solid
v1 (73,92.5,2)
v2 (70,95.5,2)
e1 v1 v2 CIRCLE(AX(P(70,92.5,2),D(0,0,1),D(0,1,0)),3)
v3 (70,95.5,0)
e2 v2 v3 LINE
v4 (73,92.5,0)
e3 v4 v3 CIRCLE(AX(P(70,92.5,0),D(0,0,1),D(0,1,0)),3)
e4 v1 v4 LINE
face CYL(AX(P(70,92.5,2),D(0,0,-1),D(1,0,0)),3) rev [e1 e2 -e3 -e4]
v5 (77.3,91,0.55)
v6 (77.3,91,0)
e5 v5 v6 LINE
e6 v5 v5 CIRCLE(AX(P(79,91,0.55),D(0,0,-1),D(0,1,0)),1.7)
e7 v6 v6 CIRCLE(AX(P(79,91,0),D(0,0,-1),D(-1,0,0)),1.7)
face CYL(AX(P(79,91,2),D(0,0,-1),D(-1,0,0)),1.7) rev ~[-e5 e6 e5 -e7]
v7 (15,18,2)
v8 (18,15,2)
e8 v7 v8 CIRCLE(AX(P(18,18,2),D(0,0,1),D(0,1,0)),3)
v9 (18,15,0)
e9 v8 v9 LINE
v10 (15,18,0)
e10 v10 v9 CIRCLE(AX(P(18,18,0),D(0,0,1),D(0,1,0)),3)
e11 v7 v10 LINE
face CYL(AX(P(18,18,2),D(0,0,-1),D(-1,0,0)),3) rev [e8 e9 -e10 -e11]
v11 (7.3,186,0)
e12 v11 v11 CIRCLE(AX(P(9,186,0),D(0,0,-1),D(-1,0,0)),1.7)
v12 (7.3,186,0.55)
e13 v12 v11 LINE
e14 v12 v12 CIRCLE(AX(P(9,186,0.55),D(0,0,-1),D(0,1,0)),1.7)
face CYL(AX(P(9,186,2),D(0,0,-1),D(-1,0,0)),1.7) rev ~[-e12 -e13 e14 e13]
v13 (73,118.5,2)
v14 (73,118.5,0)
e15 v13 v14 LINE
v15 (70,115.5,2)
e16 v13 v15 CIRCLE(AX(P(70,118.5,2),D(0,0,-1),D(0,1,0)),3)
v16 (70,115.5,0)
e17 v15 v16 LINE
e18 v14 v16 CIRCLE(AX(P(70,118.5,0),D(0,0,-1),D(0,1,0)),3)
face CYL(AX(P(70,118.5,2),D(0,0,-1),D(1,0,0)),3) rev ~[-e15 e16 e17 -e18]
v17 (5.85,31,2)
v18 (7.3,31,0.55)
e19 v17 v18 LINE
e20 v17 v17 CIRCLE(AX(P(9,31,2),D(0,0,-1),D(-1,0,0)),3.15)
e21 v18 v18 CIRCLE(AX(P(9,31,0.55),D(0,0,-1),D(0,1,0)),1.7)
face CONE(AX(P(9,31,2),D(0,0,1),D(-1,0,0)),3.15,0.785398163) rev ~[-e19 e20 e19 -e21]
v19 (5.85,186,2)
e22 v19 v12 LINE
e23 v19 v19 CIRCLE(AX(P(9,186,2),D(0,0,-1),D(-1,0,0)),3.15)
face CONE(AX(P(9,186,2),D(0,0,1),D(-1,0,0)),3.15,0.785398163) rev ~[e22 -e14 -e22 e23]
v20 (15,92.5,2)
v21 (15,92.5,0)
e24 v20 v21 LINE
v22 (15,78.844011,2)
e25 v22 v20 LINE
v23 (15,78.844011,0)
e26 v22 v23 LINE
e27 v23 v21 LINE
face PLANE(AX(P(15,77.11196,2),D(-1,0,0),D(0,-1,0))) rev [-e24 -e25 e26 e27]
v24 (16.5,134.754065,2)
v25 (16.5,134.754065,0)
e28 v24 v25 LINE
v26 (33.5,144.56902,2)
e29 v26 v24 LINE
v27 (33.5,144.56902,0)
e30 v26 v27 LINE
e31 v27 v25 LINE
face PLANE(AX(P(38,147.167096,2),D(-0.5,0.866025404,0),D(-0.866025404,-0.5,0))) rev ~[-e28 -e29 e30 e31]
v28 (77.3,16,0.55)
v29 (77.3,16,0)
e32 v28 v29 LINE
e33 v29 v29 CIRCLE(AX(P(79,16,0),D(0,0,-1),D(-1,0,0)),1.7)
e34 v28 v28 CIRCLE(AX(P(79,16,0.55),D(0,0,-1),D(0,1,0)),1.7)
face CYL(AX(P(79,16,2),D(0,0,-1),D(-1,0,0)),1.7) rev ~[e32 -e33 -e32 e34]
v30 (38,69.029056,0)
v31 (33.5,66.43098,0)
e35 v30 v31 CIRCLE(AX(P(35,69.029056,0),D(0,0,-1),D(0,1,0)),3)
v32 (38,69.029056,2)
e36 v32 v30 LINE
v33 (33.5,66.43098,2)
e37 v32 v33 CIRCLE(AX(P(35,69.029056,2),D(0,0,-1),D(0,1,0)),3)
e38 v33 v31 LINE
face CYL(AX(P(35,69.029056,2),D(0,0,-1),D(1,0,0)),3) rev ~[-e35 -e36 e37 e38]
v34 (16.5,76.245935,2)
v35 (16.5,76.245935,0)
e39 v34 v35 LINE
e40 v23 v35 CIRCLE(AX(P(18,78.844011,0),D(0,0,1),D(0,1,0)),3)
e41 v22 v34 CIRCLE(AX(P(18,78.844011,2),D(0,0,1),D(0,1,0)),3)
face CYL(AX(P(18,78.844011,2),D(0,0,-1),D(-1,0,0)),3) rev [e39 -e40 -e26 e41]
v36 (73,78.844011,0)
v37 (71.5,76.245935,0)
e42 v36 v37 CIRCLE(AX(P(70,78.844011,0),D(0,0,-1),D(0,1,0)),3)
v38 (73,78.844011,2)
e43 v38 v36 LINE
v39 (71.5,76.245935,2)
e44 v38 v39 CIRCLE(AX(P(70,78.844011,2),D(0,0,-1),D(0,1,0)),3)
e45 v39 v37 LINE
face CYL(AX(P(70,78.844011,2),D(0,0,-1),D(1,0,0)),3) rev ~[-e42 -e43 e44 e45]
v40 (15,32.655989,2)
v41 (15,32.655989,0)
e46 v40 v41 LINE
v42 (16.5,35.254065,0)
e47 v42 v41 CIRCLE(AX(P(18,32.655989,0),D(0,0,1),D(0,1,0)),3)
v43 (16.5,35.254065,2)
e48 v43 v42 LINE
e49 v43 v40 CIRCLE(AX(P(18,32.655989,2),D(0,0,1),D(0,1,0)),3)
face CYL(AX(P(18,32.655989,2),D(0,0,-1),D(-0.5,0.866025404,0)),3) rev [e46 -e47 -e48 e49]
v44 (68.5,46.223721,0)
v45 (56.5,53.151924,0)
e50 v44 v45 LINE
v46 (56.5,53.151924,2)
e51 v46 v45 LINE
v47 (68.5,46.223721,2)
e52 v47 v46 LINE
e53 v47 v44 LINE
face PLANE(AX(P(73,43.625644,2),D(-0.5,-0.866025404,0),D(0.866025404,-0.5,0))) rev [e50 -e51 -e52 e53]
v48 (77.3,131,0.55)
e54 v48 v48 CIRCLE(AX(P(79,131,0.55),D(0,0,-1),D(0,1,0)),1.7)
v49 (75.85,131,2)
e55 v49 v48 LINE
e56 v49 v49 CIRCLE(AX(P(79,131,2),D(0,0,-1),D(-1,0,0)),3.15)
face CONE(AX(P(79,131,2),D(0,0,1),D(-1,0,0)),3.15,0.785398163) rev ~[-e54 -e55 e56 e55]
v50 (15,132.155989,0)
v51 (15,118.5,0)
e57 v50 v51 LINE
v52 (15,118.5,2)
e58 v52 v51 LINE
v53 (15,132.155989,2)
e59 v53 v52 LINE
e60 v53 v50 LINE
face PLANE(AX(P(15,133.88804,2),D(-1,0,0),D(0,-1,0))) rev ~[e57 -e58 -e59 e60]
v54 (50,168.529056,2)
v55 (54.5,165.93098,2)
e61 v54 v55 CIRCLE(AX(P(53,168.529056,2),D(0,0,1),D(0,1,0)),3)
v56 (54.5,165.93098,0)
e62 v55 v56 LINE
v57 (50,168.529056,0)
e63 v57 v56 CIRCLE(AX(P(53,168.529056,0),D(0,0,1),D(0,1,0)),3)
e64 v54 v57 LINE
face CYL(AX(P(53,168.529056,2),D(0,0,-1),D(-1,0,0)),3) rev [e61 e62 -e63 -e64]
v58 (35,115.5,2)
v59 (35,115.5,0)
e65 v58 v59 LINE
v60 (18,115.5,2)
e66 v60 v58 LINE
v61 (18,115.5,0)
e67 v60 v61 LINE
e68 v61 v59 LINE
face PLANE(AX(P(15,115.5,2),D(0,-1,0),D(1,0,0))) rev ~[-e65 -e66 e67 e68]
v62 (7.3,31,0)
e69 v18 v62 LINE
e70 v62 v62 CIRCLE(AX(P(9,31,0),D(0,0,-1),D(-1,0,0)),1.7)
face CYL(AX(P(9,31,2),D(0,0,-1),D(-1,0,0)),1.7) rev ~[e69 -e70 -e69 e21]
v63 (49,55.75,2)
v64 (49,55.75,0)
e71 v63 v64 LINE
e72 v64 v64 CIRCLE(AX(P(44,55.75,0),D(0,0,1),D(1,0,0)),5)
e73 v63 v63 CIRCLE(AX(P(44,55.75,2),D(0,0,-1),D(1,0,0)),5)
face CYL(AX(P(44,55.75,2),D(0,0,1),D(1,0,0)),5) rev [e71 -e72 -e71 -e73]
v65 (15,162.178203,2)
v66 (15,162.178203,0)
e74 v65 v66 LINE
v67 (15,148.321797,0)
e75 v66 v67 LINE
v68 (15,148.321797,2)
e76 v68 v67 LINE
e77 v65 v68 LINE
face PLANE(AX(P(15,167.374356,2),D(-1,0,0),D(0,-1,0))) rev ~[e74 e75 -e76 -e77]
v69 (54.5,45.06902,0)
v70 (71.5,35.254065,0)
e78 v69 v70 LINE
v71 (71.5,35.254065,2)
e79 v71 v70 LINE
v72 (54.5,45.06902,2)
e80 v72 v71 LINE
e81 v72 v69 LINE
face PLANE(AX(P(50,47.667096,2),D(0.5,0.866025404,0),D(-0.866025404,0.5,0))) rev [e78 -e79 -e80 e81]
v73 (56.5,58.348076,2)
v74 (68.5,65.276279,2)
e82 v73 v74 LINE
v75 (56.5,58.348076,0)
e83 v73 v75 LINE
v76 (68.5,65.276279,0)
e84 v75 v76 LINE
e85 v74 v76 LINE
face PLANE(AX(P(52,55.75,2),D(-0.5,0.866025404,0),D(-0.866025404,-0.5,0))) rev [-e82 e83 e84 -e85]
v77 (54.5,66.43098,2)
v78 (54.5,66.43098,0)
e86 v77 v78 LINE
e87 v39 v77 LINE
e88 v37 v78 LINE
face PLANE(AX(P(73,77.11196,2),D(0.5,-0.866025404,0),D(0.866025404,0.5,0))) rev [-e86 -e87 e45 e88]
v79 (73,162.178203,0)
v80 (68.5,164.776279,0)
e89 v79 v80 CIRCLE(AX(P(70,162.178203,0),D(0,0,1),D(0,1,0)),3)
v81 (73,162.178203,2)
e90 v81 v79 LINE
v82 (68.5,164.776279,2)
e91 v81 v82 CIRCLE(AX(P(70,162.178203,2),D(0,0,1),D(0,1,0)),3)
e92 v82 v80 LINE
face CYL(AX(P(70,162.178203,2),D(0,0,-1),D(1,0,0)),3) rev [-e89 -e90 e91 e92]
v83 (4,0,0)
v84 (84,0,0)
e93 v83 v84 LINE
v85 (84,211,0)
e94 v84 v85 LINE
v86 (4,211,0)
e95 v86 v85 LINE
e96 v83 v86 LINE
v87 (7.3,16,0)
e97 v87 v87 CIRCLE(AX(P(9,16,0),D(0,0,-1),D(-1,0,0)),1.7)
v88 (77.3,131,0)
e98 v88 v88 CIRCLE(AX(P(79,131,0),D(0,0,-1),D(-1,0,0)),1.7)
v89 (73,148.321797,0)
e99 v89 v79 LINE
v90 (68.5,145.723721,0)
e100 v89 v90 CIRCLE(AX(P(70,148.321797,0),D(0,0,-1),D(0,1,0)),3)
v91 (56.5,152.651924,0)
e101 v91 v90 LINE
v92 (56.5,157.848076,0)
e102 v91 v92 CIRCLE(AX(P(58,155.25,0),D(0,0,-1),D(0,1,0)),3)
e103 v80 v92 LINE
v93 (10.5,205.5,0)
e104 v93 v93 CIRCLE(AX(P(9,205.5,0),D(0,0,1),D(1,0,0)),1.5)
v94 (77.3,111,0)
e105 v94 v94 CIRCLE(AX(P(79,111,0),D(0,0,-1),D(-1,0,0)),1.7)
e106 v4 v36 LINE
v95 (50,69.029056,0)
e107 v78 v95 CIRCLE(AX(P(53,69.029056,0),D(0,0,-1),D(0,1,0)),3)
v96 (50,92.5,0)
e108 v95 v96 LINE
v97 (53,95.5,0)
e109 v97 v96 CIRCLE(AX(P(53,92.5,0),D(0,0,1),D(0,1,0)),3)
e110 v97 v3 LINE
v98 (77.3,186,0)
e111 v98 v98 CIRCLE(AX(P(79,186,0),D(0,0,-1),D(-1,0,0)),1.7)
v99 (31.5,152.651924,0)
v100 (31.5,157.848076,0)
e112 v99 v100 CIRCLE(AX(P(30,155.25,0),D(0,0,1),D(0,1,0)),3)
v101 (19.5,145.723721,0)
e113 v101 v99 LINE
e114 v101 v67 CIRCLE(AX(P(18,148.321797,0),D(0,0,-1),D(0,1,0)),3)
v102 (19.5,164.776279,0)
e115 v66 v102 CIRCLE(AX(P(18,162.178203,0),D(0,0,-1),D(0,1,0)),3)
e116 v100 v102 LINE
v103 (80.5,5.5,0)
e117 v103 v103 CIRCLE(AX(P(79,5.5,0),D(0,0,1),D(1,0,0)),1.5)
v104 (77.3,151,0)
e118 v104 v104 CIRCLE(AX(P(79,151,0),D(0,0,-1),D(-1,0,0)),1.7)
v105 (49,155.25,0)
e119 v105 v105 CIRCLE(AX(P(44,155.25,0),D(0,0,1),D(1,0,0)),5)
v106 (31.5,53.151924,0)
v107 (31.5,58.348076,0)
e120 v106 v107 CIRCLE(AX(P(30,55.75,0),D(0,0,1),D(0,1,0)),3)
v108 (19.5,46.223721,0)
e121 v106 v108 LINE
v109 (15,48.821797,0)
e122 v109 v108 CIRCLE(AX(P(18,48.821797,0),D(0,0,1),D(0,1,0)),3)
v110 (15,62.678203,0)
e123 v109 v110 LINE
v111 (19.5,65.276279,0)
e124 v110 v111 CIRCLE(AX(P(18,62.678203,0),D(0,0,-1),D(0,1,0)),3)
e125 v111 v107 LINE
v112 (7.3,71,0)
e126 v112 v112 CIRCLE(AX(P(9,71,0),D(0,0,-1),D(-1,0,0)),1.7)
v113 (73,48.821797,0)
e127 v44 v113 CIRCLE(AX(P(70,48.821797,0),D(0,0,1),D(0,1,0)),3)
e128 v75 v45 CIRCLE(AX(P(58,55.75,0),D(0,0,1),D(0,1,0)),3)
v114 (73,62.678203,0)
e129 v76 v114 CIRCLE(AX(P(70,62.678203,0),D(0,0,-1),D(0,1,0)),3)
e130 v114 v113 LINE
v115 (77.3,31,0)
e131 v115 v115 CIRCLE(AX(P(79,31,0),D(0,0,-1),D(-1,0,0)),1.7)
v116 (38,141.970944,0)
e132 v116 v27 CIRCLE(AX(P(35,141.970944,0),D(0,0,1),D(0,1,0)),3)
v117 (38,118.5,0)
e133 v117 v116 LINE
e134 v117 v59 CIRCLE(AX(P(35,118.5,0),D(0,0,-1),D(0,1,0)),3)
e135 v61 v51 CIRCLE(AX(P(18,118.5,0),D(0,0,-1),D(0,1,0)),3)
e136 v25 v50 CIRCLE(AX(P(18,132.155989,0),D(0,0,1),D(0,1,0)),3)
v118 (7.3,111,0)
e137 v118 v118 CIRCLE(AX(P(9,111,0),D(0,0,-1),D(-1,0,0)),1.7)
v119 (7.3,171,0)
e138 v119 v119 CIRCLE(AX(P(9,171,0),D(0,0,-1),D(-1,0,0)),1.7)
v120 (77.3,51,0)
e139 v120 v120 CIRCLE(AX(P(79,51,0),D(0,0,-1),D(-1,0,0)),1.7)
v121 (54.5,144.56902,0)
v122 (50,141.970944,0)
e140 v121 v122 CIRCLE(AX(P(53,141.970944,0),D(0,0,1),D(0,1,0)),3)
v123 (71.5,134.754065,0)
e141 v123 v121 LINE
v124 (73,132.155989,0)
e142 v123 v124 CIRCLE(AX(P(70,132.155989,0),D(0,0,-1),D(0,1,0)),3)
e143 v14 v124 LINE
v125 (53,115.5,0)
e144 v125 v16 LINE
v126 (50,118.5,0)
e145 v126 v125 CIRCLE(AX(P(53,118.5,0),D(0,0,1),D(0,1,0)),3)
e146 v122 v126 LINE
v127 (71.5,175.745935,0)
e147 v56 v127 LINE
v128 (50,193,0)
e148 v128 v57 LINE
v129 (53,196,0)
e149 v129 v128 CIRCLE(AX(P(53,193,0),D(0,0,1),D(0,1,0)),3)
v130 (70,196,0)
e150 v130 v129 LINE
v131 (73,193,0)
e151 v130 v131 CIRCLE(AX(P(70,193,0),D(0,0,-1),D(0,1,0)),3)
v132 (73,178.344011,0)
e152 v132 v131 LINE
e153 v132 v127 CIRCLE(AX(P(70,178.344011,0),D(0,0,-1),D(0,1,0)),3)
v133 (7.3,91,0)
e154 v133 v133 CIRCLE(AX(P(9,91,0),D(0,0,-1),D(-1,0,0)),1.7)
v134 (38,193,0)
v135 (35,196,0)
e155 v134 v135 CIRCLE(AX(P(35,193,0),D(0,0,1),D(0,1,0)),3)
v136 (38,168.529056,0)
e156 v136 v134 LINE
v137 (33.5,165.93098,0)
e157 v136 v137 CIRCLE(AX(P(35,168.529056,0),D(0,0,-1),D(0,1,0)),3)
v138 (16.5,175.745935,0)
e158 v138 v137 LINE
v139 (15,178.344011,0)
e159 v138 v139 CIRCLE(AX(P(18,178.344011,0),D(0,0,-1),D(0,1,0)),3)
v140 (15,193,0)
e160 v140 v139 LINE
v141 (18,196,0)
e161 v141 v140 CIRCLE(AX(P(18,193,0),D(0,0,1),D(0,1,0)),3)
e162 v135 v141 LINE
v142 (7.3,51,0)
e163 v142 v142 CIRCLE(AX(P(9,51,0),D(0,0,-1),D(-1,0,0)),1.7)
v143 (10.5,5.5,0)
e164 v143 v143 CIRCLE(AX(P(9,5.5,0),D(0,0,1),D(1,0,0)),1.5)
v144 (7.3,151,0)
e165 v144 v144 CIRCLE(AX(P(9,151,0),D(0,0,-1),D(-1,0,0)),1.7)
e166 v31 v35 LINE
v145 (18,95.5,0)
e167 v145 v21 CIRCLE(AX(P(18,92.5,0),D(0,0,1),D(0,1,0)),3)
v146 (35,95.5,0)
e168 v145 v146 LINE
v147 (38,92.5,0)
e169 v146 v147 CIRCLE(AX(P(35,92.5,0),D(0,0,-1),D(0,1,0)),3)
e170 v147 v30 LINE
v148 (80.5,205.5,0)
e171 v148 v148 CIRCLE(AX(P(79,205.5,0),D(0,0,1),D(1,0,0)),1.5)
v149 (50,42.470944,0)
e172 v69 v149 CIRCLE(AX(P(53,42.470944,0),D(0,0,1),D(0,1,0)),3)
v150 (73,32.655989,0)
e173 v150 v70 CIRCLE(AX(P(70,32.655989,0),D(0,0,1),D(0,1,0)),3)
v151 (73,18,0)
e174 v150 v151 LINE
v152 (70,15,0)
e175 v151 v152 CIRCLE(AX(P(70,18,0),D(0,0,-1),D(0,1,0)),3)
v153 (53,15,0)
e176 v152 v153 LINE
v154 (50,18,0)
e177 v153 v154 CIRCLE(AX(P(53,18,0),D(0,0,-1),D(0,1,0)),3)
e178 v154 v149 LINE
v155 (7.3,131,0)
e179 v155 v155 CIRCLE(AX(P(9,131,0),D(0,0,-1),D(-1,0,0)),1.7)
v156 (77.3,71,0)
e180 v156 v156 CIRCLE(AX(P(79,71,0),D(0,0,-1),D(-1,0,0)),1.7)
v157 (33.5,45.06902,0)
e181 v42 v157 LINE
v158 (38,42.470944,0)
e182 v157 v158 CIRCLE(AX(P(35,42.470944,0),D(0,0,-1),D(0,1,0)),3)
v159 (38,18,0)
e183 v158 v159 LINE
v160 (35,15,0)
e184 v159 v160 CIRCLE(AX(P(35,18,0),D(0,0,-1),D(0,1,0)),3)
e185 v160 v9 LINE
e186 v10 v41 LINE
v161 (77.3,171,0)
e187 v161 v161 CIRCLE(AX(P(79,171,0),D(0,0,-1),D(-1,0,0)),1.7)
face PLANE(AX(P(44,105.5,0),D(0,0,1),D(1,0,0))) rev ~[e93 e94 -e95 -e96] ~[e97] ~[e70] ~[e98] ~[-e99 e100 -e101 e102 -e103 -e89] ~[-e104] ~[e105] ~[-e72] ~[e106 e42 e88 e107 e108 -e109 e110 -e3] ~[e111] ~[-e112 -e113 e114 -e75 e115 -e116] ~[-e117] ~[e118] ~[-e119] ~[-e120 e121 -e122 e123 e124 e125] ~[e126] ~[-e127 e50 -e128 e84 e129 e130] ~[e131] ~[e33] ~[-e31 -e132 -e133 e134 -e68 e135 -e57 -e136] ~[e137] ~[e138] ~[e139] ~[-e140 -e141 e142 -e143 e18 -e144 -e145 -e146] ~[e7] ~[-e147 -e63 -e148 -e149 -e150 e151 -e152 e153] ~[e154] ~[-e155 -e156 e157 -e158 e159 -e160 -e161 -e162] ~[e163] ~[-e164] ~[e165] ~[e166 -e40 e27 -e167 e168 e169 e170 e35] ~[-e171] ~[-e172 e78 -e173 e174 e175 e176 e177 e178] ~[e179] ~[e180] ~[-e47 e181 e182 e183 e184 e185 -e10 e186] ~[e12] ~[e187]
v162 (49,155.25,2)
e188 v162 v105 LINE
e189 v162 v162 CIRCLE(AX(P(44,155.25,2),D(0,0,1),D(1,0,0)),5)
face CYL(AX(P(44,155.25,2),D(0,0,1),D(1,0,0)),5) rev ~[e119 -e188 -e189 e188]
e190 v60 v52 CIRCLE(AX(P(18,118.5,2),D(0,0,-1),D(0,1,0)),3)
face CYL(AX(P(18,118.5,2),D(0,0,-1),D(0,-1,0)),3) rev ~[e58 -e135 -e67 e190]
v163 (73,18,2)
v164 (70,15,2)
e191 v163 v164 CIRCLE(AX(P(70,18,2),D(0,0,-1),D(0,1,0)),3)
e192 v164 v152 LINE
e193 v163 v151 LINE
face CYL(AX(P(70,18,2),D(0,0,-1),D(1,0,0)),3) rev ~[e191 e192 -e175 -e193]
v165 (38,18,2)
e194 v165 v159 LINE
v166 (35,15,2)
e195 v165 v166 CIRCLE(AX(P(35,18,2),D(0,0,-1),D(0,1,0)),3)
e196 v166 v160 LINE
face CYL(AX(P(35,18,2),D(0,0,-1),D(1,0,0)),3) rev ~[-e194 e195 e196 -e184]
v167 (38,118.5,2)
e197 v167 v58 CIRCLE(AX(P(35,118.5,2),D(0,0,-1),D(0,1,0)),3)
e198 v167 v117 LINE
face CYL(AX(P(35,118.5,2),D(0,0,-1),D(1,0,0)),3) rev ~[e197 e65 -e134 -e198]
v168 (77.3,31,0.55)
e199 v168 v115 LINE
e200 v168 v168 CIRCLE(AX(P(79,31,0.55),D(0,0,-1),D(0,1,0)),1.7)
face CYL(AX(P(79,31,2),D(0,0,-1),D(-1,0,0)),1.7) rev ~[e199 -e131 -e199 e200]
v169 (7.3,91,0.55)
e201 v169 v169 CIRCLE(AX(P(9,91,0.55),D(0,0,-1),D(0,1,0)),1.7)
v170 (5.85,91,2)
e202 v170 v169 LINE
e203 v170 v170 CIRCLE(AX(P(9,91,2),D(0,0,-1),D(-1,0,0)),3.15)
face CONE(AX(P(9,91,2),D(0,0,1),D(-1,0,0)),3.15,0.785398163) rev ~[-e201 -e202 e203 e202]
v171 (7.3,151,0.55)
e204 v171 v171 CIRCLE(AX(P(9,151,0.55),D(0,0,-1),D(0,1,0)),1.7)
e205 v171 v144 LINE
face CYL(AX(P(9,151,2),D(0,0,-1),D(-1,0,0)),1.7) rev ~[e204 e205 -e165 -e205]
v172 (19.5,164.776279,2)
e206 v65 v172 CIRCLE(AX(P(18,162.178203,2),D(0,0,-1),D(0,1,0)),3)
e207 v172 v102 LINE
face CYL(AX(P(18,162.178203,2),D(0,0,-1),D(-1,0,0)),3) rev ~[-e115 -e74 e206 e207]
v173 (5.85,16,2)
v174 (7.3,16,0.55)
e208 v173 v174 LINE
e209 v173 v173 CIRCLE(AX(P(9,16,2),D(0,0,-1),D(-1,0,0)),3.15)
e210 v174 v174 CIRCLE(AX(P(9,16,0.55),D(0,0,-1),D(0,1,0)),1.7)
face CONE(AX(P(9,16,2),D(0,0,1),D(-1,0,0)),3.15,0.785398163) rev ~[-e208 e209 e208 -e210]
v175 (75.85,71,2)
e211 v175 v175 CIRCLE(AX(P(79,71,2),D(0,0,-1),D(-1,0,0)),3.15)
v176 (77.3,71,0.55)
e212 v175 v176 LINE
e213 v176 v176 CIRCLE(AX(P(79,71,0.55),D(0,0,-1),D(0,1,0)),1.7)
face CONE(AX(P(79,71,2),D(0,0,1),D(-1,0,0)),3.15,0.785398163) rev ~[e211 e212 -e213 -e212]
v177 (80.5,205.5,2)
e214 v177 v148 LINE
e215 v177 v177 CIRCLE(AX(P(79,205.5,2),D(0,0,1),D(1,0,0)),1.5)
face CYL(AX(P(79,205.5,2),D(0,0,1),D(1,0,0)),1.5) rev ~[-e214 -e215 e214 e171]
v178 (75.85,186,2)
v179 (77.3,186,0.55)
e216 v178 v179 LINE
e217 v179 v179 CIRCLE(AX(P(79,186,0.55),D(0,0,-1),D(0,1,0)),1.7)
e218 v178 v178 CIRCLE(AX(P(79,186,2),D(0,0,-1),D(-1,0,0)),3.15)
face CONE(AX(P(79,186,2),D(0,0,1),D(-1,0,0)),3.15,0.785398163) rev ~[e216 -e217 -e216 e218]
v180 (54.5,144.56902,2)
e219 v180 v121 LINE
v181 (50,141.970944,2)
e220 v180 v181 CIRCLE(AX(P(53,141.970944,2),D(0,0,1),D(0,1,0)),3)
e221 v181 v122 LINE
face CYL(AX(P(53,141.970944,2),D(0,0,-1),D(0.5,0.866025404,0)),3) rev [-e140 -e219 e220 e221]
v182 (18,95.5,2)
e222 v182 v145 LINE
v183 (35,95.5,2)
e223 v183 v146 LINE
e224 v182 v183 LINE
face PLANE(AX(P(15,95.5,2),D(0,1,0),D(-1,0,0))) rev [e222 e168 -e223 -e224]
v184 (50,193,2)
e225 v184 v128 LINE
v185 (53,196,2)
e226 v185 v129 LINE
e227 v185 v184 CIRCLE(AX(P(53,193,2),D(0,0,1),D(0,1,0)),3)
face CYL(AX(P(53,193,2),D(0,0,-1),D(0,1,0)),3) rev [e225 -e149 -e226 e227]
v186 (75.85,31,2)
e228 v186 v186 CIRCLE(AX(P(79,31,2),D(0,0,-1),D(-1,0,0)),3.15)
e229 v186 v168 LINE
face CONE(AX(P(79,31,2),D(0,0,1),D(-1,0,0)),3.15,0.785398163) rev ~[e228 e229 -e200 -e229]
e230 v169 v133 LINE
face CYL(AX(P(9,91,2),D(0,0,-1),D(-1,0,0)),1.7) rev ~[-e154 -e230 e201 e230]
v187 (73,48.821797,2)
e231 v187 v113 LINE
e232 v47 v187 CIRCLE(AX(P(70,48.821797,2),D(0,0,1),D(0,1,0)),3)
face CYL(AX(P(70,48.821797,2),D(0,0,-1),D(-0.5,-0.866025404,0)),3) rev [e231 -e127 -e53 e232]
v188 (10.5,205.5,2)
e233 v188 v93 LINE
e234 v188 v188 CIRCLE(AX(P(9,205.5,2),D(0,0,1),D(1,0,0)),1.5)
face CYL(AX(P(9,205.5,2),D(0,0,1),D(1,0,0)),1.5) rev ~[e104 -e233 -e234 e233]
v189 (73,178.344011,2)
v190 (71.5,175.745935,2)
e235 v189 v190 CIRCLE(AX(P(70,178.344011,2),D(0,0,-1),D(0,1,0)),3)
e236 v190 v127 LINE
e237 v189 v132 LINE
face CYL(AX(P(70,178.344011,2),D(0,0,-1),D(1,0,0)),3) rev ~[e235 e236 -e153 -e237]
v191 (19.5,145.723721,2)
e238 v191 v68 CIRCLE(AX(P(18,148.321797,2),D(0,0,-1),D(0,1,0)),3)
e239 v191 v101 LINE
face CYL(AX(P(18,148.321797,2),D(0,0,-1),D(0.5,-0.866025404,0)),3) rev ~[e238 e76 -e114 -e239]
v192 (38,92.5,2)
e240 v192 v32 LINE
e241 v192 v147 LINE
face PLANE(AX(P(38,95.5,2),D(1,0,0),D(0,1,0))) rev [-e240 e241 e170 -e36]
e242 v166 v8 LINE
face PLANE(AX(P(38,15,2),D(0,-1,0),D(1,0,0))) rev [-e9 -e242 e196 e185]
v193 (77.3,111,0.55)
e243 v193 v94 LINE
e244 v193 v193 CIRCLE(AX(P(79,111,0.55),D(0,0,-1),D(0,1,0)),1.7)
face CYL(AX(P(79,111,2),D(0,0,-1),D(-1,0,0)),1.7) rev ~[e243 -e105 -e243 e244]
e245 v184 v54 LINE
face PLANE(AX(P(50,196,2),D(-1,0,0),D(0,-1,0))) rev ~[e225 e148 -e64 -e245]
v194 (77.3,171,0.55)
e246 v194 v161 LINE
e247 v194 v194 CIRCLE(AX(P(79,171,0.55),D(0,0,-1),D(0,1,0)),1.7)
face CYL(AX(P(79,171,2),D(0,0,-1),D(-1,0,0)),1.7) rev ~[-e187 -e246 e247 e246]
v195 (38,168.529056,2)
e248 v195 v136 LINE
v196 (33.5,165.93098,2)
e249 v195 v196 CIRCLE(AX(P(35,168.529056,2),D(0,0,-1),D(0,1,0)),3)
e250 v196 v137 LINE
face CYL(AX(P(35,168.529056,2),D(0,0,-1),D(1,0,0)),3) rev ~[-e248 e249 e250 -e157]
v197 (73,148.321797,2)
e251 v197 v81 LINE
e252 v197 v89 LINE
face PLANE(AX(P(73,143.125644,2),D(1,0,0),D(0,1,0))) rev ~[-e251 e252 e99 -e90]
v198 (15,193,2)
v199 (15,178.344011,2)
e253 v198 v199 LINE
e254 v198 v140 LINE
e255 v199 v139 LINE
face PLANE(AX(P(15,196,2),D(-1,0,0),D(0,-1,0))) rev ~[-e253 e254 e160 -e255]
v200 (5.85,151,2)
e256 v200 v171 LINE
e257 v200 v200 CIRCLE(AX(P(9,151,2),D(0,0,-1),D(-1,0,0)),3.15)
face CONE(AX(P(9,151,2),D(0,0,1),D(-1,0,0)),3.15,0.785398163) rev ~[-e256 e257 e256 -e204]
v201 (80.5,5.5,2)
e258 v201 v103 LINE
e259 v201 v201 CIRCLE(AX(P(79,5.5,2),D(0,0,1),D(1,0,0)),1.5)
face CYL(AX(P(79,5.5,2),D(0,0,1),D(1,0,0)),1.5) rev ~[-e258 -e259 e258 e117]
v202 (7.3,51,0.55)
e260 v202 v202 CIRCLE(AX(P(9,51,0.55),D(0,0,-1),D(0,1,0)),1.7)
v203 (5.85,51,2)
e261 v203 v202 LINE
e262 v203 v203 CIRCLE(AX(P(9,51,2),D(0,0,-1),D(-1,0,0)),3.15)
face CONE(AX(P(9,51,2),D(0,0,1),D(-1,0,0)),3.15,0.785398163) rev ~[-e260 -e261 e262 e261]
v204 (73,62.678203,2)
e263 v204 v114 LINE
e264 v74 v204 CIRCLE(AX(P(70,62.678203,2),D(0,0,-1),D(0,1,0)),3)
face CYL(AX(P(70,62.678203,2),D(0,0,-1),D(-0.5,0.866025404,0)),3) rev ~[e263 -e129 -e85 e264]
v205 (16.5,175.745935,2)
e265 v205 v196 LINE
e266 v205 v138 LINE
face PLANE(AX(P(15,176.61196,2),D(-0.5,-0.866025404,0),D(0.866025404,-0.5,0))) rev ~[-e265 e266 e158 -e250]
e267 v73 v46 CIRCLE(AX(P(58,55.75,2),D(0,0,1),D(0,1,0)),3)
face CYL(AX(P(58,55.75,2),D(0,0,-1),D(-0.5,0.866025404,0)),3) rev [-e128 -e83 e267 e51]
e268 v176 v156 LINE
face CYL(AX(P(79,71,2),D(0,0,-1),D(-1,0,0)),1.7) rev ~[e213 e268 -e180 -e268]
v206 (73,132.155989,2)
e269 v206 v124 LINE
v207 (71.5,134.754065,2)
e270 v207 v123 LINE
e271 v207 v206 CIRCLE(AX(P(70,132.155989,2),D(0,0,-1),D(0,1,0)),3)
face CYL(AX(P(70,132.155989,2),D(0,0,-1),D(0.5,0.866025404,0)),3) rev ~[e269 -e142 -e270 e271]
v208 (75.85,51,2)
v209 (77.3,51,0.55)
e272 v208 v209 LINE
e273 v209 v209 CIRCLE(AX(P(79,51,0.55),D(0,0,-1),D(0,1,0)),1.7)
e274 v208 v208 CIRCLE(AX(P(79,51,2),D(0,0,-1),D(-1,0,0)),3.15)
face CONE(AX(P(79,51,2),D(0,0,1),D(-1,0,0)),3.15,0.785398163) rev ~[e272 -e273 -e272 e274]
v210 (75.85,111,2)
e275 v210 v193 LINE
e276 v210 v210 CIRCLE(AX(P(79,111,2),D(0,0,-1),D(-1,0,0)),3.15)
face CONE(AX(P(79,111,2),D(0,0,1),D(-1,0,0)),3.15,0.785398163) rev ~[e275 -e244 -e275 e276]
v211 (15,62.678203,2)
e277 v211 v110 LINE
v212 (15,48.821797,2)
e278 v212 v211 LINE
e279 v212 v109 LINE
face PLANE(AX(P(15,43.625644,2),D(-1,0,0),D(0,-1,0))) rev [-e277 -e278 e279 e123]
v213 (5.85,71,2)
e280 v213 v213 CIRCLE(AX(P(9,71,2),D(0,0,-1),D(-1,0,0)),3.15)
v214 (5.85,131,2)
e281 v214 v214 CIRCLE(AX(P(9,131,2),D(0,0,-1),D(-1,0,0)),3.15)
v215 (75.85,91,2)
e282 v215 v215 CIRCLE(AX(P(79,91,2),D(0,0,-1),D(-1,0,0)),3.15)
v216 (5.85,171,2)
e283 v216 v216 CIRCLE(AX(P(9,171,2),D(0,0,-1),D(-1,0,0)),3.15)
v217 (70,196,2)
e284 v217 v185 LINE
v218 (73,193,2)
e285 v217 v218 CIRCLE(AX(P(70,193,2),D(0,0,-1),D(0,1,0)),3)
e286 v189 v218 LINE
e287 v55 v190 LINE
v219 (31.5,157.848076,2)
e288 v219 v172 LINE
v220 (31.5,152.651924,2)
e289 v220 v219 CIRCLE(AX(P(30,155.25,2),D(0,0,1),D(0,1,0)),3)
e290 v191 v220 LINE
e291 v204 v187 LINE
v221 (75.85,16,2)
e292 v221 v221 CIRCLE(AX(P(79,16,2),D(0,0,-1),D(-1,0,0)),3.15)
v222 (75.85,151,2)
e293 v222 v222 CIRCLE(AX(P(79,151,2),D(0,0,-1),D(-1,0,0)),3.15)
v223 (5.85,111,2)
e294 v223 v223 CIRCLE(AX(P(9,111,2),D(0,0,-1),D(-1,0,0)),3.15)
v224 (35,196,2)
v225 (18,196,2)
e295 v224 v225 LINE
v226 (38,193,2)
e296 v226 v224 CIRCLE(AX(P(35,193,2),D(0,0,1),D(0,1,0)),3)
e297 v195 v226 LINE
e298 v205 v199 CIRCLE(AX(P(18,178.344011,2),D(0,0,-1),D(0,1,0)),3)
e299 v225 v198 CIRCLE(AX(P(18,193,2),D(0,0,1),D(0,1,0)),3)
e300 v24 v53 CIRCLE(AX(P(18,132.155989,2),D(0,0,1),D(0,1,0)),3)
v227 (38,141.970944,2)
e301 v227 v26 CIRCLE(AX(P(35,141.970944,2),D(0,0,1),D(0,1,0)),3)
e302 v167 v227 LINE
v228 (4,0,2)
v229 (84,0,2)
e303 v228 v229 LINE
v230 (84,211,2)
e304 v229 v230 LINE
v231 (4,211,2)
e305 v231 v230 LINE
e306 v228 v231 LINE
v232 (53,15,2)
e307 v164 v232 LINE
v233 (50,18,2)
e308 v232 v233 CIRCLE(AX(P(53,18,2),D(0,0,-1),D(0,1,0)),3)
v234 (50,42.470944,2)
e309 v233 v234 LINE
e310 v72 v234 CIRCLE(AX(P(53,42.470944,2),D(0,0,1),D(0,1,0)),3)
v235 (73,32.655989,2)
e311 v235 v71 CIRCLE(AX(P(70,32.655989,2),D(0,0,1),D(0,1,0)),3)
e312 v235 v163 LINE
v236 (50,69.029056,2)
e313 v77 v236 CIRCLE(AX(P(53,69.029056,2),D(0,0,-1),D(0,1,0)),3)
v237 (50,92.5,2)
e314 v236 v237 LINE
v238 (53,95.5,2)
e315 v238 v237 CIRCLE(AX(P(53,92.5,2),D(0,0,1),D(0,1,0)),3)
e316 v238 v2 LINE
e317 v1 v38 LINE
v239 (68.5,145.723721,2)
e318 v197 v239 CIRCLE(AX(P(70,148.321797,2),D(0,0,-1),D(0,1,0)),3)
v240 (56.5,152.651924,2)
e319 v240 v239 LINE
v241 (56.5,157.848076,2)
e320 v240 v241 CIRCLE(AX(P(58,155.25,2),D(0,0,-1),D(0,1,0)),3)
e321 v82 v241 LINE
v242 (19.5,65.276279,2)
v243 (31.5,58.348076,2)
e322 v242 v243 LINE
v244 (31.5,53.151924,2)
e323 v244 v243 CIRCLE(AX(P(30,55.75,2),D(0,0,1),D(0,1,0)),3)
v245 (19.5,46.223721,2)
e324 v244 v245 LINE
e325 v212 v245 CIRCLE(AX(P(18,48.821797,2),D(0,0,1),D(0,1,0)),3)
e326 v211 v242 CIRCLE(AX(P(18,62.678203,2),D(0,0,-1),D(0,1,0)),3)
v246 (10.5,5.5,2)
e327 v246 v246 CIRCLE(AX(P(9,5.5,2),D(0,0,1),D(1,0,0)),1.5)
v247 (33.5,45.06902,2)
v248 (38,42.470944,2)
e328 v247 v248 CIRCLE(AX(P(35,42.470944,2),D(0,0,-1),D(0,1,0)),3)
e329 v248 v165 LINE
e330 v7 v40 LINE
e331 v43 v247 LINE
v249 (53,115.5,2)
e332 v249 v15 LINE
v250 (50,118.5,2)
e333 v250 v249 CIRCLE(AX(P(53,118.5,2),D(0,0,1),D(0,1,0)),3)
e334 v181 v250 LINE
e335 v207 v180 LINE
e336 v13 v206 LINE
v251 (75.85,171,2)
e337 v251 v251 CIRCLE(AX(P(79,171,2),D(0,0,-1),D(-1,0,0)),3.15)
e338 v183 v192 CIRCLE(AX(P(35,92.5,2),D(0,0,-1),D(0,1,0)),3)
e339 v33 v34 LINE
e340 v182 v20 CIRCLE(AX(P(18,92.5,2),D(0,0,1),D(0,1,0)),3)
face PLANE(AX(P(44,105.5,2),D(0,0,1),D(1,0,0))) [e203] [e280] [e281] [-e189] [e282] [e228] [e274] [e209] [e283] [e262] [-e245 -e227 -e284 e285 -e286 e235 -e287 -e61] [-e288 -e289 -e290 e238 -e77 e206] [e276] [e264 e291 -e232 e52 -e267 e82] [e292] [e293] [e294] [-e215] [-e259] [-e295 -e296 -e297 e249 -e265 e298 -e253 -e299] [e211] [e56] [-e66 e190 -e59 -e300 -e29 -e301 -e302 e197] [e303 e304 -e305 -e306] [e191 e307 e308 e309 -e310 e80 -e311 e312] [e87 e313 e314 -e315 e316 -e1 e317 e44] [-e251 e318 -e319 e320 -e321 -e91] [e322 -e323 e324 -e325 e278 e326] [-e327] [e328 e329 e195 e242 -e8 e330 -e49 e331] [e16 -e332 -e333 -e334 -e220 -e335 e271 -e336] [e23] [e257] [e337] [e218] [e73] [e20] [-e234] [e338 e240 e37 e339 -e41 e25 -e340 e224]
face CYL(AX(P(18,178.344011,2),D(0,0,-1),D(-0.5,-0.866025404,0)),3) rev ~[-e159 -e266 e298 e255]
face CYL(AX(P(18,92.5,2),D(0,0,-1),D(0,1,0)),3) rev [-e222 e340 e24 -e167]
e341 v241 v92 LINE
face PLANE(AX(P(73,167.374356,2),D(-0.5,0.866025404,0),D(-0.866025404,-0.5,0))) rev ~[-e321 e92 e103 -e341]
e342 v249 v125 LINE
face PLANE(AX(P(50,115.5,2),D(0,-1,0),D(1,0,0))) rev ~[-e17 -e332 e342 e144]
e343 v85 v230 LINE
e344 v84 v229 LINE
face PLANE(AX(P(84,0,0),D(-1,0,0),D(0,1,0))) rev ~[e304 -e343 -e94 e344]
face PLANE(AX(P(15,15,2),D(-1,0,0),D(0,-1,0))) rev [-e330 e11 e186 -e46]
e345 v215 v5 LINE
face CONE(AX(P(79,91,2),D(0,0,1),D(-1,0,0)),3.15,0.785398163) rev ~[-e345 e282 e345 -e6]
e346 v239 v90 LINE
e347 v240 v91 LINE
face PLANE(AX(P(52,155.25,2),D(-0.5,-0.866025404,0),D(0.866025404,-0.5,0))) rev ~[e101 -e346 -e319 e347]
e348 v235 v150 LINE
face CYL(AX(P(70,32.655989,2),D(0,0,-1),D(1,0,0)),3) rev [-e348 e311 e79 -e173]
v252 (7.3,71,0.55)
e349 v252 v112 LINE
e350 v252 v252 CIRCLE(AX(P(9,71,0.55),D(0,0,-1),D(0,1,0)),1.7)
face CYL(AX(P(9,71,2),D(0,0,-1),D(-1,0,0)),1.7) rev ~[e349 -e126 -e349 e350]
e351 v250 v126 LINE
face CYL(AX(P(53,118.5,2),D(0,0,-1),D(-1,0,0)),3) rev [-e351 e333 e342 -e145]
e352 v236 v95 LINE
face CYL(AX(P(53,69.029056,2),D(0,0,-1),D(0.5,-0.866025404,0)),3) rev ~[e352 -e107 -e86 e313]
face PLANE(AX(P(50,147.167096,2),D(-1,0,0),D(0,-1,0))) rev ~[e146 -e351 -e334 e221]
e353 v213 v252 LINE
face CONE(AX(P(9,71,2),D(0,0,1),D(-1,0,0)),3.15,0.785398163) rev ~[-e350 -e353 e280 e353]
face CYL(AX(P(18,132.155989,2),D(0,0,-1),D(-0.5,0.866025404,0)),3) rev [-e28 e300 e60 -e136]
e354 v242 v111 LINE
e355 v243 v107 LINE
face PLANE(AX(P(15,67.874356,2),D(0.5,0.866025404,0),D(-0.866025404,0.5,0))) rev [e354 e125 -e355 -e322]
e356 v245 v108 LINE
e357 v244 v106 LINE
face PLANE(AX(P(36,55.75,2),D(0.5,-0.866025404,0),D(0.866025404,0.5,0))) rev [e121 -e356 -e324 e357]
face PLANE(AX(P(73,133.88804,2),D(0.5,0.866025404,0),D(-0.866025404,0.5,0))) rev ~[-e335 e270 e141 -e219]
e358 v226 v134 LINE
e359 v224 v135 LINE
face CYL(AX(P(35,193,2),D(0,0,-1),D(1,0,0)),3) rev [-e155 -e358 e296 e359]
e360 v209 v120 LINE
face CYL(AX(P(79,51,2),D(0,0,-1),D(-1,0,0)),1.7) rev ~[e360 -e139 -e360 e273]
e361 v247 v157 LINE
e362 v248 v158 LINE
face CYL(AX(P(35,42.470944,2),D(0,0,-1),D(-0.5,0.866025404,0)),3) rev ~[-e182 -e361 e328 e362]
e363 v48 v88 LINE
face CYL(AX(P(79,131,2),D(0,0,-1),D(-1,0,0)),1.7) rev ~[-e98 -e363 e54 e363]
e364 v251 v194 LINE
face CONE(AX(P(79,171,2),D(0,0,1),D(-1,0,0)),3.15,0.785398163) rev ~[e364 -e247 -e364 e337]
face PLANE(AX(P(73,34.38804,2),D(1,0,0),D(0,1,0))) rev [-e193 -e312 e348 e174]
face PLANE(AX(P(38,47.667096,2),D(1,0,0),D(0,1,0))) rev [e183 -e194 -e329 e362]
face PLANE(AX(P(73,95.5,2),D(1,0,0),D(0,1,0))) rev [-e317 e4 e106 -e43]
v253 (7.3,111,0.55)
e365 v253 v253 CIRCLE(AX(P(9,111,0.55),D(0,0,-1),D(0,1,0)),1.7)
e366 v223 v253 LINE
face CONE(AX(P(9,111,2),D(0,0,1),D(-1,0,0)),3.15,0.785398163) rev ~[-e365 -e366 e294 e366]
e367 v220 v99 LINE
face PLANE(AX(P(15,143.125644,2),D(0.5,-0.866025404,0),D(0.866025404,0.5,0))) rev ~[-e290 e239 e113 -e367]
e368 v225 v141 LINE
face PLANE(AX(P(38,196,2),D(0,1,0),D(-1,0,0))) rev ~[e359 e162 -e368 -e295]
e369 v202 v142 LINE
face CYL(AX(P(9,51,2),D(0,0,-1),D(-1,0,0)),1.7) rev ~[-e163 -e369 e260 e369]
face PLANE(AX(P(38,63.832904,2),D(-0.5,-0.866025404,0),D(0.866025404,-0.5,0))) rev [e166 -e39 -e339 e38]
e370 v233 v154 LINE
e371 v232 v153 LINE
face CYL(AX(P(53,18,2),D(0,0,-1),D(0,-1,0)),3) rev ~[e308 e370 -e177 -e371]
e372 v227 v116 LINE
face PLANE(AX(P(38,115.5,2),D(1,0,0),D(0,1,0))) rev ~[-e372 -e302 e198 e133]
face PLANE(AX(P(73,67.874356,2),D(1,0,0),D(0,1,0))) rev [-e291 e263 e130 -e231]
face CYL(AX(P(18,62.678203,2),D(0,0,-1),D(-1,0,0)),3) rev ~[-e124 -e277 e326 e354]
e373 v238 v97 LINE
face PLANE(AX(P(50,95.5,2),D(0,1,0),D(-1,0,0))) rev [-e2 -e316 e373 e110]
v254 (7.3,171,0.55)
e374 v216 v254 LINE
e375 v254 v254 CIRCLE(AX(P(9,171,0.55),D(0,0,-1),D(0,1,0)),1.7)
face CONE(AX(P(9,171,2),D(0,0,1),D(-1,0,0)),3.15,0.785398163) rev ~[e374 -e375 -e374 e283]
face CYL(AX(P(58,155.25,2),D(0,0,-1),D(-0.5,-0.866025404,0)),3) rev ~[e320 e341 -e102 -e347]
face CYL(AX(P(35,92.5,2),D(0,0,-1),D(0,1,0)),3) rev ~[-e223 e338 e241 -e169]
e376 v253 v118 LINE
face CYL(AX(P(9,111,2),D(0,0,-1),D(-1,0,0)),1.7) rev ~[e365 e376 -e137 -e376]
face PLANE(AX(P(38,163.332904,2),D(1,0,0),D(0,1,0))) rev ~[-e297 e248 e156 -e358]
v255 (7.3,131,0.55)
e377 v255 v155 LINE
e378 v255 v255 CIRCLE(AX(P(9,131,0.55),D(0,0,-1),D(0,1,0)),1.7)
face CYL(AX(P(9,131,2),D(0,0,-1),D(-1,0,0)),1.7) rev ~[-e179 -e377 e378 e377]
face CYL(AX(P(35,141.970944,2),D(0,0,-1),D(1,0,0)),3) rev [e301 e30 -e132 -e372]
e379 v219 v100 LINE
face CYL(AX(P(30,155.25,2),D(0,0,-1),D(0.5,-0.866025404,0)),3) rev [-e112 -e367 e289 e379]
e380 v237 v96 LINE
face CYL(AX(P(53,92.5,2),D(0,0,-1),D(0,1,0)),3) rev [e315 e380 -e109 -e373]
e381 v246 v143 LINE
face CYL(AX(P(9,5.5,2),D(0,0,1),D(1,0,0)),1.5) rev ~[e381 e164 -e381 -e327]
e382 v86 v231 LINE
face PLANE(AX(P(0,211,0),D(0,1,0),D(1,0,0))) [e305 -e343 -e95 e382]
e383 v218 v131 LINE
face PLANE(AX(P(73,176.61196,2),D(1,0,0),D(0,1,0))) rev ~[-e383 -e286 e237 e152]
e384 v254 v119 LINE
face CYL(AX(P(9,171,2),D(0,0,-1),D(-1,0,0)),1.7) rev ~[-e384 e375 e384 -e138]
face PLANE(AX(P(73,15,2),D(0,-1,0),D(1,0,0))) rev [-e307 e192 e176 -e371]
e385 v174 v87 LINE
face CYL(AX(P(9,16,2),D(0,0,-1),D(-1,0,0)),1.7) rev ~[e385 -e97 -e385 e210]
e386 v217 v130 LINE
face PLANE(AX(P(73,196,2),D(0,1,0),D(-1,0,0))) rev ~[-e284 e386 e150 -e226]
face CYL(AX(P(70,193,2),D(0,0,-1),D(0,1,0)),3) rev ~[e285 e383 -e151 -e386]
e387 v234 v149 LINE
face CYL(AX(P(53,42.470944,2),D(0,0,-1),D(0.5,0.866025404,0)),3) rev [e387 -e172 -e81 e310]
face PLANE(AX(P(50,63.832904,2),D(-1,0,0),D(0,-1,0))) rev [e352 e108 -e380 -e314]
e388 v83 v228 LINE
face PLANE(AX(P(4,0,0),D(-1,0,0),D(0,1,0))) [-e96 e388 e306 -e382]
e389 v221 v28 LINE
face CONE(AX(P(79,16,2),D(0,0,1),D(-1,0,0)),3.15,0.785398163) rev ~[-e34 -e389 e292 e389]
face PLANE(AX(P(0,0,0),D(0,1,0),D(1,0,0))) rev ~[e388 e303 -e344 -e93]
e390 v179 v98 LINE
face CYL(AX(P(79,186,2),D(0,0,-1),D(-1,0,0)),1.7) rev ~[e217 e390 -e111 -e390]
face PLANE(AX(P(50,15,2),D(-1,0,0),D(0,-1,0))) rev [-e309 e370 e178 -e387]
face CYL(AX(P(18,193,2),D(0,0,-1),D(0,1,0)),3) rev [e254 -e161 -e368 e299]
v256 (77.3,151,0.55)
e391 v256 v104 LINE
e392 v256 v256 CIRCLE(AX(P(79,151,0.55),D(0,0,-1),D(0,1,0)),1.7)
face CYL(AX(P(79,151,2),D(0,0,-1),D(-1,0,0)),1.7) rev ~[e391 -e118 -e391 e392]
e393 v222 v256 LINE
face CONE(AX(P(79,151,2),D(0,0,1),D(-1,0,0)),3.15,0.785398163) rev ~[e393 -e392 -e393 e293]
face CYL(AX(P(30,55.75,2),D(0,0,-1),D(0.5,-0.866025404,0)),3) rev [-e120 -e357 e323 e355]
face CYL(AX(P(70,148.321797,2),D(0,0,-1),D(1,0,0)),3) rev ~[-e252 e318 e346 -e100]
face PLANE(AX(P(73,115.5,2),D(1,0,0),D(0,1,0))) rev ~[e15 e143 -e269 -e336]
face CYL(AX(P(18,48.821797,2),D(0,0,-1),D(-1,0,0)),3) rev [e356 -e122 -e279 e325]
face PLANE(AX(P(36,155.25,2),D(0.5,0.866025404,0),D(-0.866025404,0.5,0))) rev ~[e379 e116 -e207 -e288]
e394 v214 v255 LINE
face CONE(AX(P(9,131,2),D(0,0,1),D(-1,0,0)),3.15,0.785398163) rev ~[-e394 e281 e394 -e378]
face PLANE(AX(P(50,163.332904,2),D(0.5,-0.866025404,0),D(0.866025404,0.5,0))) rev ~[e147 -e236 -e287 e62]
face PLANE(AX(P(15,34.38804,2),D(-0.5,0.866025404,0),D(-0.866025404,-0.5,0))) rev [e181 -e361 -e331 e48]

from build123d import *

# Parameters (mm, degrees)
SKETCH1_W                                       = 88
SKETCH1_H                                       = 211
BOSS_EXTRUDE1_DEPTH                             = 2
CUT_EXTRUDE2_DEPTH                              = 2
SKETCH4_R                                       = 5
CUT_EXTRUDE3_DEPTH                              = 3
FILLET2_R                                       = 3
SKETCH5_R                                       = 1.5
CUT_EXTRUDE4_DEPTH                              = 3
SKETCH23_W                                      = 2
SKETCH23_H                                      = 211
SKETCH23_W_2                                    = 2.150374681
CUT_EXTRUDE5_DEPTH                              = 10
SKETCH29_W                                      = 5.911493913
SKETCH29_H                                      = 211
SKETCH29_W_2                                    = 4.036537762
CUT_EXTRUDE10_DEPTH                             = 2
CSK_FOR_M3_FLAT_HEAD_MACHINE_SCREW1_D           = 3.4
CSK_FOR_M3_FLAT_HEAD_MACHINE_SCREW1_DEPTH       = 10
CSK_FOR_M3_FLAT_HEAD_MACHINE_SCREW1_CSINK_D     = 6.3
CSK_FOR_M3_FLAT_HEAD_MACHINE_SCREW1_CSINK_ANGLE = 90
CSK_FOR_M3_FLAT_HEAD_MACHINE_SCREW1_TIP         = 1.021463052


with BuildPart() as part:
    # Sketch1 → Boss-Extrude1 (new body)
    with BuildSketch(Plane.XY):
        with Locations((44, 105.5)):
            Rectangle(SKETCH1_W, SKETCH1_H)
    extrude(amount=BOSS_EXTRUDE1_DEPTH)

    # Sketch3 → Cut-Extrude2 (cut)
    with BuildSketch(Plane.XY.offset(2)):
        Polygon((73, 133.88804004), (50, 147.167096231), (50, 115.5), (73, 115.5), align=None)
        Polygon((38, 115.5), (38, 147.167096231), (15, 133.88804004), (15, 115.5), align=None)
        Polygon((15, 143.125644347), (36, 155.25), (15, 167.374355653), align=None)
        Polygon((73, 143.125644347), (73, 167.374355653), (52, 155.25), align=None)
        Polygon((73, 196), (50, 196), (50, 163.332903769), (73, 176.61195996), align=None)
        Polygon((38, 163.332903769), (38, 196), (15, 196), (15, 176.61195996), align=None)
    cut_extrude2 = extrude(amount=-CUT_EXTRUDE2_DEPTH, mode=Mode.SUBTRACT)

    # Sketch4 → Cut-Extrude3 (cut, through all)
    with BuildSketch(Plane.XY.offset(2)):
        with Locations((44, 155.25)):
            Circle(SKETCH4_R)
    cut_extrude3 = extrude(amount=-CUT_EXTRUDE3_DEPTH, mode=Mode.SUBTRACT)

    # Mirror2: Cut-Extrude2, Cut-Extrude3 across plane
    add(cut_extrude2.mirror(Plane.ZX.offset(105.5)), mode=Mode.SUBTRACT)
    add(cut_extrude3.mirror(Plane.ZX.offset(105.5)), mode=Mode.SUBTRACT)

    # Fillet2
    fillet2_edges = [part.edges().sort_by_distance(p)[0] for p in [
        (36, 55.75, 1),
        (15, 43.625644347, 1),
        (15, 67.874355653, 1),
        (38, 95.5, 1),
        (38, 63.832903769, 1),
        (15, 77.11195996, 1),
        (15, 95.5, 1),
        (73, 15, 1),
        (50, 15, 1),
        (50, 47.667096231, 1),
        (73, 34.38804004, 1),
        (73, 43.625644347, 1),
        (52, 55.75, 1),
        (73, 67.874355653, 1),
        (15, 15, 1),
        (15, 34.38804004, 1),
        (38, 47.667096231, 1),
        (38, 15, 1),
        (73, 77.11195996, 1),
        (50, 63.832903769, 1),
        (50, 95.5, 1),
        (73, 95.5, 1),
        (15, 167.374355653, 1),
        (36, 155.25, 1),
        (15, 143.125644347, 1),
        (38, 147.167096231, 1),
        (38, 115.5, 1),
        (15, 115.5, 1),
        (15, 133.88804004, 1),
        (50, 196, 1),
        (73, 196, 1),
        (73, 176.61195996, 1),
        (50, 163.332903769, 1),
        (52, 155.25, 1),
        (73, 167.374355653, 1),
        (73, 143.125644347, 1),
        (15, 176.61195996, 1),
        (15, 196, 1),
        (38, 196, 1),
        (38, 163.332903769, 1),
        (50, 147.167096231, 1),
        (73, 133.88804004, 1),
        (73, 115.5, 1),
        (50, 115.5, 1),
    ]]
    fillet(fillet2_edges, radius=FILLET2_R)

    # Sketch5 → Cut-Extrude4 (cut, through all)
    with BuildSketch(Plane.XY.offset(2)):
        with Locations((9, 205.5)):
            Circle(SKETCH5_R)
        with Locations((79, 205.5)):
            Circle(SKETCH5_R)
        with Locations((9, 5.5)):
            Circle(SKETCH5_R)
        with Locations((79, 5.5)):
            Circle(SKETCH5_R)
    extrude(amount=-CUT_EXTRUDE4_DEPTH, mode=Mode.SUBTRACT)

    # Sketch23 → Cut-Extrude5 (cut)
    with BuildSketch(Plane.XY.offset(2)):
        with Locations((87, 105.5)):
            Rectangle(SKETCH23_W, SKETCH23_H)
        with Locations((1.075187341, 105.5)):
            Rectangle(SKETCH23_W_2, SKETCH23_H)
    extrude(amount=-CUT_EXTRUDE5_DEPTH, mode=Mode.SUBTRACT)

    # Sketch29 → Cut-Extrude10 (cut)
    with BuildSketch(Plane(origin=(0, 0, 0), x_dir=(-1, 0, 0), z_dir=(0, 0, -1))):
        with Locations((-1.044253043, 105.5)):
            Rectangle(SKETCH29_W, SKETCH29_H)
        with Locations((-86.018268881, 105.5)):
            Rectangle(SKETCH29_W_2, SKETCH29_H)
    extrude(amount=-CUT_EXTRUDE10_DEPTH, mode=Mode.SUBTRACT)

    # CSK for M3 Flat Head Machine Screw1
    with Locations(Plane.XY.offset(2)):
        with Locations((9, 186), (9, 171), (9, 151), (9, 131), (9, 111), (9, 91), (9, 71), (9, 51), (9, 31), (9, 16), (79, 186), (79, 171), (79, 151), (79, 131), (79, 111), (79, 91), (79, 71), (79, 51), (79, 31), (79, 16)):
            CounterSinkHole(CSK_FOR_M3_FLAT_HEAD_MACHINE_SCREW1_D / 2, CSK_FOR_M3_FLAT_HEAD_MACHINE_SCREW1_CSINK_D / 2, depth=CSK_FOR_M3_FLAT_HEAD_MACHINE_SCREW1_DEPTH, counter_sink_angle=CSK_FOR_M3_FLAT_HEAD_MACHINE_SCREW1_CSINK_ANGLE)
            with Locations((0, 0, -(CSK_FOR_M3_FLAT_HEAD_MACHINE_SCREW1_DEPTH + CSK_FOR_M3_FLAT_HEAD_MACHINE_SCREW1_TIP / 2))):  # 118° drill point
                Cone(0, CSK_FOR_M3_FLAT_HEAD_MACHINE_SCREW1_D / 2, CSK_FOR_M3_FLAT_HEAD_MACHINE_SCREW1_TIP, mode=Mode.SUBTRACT)


solid = part.part
